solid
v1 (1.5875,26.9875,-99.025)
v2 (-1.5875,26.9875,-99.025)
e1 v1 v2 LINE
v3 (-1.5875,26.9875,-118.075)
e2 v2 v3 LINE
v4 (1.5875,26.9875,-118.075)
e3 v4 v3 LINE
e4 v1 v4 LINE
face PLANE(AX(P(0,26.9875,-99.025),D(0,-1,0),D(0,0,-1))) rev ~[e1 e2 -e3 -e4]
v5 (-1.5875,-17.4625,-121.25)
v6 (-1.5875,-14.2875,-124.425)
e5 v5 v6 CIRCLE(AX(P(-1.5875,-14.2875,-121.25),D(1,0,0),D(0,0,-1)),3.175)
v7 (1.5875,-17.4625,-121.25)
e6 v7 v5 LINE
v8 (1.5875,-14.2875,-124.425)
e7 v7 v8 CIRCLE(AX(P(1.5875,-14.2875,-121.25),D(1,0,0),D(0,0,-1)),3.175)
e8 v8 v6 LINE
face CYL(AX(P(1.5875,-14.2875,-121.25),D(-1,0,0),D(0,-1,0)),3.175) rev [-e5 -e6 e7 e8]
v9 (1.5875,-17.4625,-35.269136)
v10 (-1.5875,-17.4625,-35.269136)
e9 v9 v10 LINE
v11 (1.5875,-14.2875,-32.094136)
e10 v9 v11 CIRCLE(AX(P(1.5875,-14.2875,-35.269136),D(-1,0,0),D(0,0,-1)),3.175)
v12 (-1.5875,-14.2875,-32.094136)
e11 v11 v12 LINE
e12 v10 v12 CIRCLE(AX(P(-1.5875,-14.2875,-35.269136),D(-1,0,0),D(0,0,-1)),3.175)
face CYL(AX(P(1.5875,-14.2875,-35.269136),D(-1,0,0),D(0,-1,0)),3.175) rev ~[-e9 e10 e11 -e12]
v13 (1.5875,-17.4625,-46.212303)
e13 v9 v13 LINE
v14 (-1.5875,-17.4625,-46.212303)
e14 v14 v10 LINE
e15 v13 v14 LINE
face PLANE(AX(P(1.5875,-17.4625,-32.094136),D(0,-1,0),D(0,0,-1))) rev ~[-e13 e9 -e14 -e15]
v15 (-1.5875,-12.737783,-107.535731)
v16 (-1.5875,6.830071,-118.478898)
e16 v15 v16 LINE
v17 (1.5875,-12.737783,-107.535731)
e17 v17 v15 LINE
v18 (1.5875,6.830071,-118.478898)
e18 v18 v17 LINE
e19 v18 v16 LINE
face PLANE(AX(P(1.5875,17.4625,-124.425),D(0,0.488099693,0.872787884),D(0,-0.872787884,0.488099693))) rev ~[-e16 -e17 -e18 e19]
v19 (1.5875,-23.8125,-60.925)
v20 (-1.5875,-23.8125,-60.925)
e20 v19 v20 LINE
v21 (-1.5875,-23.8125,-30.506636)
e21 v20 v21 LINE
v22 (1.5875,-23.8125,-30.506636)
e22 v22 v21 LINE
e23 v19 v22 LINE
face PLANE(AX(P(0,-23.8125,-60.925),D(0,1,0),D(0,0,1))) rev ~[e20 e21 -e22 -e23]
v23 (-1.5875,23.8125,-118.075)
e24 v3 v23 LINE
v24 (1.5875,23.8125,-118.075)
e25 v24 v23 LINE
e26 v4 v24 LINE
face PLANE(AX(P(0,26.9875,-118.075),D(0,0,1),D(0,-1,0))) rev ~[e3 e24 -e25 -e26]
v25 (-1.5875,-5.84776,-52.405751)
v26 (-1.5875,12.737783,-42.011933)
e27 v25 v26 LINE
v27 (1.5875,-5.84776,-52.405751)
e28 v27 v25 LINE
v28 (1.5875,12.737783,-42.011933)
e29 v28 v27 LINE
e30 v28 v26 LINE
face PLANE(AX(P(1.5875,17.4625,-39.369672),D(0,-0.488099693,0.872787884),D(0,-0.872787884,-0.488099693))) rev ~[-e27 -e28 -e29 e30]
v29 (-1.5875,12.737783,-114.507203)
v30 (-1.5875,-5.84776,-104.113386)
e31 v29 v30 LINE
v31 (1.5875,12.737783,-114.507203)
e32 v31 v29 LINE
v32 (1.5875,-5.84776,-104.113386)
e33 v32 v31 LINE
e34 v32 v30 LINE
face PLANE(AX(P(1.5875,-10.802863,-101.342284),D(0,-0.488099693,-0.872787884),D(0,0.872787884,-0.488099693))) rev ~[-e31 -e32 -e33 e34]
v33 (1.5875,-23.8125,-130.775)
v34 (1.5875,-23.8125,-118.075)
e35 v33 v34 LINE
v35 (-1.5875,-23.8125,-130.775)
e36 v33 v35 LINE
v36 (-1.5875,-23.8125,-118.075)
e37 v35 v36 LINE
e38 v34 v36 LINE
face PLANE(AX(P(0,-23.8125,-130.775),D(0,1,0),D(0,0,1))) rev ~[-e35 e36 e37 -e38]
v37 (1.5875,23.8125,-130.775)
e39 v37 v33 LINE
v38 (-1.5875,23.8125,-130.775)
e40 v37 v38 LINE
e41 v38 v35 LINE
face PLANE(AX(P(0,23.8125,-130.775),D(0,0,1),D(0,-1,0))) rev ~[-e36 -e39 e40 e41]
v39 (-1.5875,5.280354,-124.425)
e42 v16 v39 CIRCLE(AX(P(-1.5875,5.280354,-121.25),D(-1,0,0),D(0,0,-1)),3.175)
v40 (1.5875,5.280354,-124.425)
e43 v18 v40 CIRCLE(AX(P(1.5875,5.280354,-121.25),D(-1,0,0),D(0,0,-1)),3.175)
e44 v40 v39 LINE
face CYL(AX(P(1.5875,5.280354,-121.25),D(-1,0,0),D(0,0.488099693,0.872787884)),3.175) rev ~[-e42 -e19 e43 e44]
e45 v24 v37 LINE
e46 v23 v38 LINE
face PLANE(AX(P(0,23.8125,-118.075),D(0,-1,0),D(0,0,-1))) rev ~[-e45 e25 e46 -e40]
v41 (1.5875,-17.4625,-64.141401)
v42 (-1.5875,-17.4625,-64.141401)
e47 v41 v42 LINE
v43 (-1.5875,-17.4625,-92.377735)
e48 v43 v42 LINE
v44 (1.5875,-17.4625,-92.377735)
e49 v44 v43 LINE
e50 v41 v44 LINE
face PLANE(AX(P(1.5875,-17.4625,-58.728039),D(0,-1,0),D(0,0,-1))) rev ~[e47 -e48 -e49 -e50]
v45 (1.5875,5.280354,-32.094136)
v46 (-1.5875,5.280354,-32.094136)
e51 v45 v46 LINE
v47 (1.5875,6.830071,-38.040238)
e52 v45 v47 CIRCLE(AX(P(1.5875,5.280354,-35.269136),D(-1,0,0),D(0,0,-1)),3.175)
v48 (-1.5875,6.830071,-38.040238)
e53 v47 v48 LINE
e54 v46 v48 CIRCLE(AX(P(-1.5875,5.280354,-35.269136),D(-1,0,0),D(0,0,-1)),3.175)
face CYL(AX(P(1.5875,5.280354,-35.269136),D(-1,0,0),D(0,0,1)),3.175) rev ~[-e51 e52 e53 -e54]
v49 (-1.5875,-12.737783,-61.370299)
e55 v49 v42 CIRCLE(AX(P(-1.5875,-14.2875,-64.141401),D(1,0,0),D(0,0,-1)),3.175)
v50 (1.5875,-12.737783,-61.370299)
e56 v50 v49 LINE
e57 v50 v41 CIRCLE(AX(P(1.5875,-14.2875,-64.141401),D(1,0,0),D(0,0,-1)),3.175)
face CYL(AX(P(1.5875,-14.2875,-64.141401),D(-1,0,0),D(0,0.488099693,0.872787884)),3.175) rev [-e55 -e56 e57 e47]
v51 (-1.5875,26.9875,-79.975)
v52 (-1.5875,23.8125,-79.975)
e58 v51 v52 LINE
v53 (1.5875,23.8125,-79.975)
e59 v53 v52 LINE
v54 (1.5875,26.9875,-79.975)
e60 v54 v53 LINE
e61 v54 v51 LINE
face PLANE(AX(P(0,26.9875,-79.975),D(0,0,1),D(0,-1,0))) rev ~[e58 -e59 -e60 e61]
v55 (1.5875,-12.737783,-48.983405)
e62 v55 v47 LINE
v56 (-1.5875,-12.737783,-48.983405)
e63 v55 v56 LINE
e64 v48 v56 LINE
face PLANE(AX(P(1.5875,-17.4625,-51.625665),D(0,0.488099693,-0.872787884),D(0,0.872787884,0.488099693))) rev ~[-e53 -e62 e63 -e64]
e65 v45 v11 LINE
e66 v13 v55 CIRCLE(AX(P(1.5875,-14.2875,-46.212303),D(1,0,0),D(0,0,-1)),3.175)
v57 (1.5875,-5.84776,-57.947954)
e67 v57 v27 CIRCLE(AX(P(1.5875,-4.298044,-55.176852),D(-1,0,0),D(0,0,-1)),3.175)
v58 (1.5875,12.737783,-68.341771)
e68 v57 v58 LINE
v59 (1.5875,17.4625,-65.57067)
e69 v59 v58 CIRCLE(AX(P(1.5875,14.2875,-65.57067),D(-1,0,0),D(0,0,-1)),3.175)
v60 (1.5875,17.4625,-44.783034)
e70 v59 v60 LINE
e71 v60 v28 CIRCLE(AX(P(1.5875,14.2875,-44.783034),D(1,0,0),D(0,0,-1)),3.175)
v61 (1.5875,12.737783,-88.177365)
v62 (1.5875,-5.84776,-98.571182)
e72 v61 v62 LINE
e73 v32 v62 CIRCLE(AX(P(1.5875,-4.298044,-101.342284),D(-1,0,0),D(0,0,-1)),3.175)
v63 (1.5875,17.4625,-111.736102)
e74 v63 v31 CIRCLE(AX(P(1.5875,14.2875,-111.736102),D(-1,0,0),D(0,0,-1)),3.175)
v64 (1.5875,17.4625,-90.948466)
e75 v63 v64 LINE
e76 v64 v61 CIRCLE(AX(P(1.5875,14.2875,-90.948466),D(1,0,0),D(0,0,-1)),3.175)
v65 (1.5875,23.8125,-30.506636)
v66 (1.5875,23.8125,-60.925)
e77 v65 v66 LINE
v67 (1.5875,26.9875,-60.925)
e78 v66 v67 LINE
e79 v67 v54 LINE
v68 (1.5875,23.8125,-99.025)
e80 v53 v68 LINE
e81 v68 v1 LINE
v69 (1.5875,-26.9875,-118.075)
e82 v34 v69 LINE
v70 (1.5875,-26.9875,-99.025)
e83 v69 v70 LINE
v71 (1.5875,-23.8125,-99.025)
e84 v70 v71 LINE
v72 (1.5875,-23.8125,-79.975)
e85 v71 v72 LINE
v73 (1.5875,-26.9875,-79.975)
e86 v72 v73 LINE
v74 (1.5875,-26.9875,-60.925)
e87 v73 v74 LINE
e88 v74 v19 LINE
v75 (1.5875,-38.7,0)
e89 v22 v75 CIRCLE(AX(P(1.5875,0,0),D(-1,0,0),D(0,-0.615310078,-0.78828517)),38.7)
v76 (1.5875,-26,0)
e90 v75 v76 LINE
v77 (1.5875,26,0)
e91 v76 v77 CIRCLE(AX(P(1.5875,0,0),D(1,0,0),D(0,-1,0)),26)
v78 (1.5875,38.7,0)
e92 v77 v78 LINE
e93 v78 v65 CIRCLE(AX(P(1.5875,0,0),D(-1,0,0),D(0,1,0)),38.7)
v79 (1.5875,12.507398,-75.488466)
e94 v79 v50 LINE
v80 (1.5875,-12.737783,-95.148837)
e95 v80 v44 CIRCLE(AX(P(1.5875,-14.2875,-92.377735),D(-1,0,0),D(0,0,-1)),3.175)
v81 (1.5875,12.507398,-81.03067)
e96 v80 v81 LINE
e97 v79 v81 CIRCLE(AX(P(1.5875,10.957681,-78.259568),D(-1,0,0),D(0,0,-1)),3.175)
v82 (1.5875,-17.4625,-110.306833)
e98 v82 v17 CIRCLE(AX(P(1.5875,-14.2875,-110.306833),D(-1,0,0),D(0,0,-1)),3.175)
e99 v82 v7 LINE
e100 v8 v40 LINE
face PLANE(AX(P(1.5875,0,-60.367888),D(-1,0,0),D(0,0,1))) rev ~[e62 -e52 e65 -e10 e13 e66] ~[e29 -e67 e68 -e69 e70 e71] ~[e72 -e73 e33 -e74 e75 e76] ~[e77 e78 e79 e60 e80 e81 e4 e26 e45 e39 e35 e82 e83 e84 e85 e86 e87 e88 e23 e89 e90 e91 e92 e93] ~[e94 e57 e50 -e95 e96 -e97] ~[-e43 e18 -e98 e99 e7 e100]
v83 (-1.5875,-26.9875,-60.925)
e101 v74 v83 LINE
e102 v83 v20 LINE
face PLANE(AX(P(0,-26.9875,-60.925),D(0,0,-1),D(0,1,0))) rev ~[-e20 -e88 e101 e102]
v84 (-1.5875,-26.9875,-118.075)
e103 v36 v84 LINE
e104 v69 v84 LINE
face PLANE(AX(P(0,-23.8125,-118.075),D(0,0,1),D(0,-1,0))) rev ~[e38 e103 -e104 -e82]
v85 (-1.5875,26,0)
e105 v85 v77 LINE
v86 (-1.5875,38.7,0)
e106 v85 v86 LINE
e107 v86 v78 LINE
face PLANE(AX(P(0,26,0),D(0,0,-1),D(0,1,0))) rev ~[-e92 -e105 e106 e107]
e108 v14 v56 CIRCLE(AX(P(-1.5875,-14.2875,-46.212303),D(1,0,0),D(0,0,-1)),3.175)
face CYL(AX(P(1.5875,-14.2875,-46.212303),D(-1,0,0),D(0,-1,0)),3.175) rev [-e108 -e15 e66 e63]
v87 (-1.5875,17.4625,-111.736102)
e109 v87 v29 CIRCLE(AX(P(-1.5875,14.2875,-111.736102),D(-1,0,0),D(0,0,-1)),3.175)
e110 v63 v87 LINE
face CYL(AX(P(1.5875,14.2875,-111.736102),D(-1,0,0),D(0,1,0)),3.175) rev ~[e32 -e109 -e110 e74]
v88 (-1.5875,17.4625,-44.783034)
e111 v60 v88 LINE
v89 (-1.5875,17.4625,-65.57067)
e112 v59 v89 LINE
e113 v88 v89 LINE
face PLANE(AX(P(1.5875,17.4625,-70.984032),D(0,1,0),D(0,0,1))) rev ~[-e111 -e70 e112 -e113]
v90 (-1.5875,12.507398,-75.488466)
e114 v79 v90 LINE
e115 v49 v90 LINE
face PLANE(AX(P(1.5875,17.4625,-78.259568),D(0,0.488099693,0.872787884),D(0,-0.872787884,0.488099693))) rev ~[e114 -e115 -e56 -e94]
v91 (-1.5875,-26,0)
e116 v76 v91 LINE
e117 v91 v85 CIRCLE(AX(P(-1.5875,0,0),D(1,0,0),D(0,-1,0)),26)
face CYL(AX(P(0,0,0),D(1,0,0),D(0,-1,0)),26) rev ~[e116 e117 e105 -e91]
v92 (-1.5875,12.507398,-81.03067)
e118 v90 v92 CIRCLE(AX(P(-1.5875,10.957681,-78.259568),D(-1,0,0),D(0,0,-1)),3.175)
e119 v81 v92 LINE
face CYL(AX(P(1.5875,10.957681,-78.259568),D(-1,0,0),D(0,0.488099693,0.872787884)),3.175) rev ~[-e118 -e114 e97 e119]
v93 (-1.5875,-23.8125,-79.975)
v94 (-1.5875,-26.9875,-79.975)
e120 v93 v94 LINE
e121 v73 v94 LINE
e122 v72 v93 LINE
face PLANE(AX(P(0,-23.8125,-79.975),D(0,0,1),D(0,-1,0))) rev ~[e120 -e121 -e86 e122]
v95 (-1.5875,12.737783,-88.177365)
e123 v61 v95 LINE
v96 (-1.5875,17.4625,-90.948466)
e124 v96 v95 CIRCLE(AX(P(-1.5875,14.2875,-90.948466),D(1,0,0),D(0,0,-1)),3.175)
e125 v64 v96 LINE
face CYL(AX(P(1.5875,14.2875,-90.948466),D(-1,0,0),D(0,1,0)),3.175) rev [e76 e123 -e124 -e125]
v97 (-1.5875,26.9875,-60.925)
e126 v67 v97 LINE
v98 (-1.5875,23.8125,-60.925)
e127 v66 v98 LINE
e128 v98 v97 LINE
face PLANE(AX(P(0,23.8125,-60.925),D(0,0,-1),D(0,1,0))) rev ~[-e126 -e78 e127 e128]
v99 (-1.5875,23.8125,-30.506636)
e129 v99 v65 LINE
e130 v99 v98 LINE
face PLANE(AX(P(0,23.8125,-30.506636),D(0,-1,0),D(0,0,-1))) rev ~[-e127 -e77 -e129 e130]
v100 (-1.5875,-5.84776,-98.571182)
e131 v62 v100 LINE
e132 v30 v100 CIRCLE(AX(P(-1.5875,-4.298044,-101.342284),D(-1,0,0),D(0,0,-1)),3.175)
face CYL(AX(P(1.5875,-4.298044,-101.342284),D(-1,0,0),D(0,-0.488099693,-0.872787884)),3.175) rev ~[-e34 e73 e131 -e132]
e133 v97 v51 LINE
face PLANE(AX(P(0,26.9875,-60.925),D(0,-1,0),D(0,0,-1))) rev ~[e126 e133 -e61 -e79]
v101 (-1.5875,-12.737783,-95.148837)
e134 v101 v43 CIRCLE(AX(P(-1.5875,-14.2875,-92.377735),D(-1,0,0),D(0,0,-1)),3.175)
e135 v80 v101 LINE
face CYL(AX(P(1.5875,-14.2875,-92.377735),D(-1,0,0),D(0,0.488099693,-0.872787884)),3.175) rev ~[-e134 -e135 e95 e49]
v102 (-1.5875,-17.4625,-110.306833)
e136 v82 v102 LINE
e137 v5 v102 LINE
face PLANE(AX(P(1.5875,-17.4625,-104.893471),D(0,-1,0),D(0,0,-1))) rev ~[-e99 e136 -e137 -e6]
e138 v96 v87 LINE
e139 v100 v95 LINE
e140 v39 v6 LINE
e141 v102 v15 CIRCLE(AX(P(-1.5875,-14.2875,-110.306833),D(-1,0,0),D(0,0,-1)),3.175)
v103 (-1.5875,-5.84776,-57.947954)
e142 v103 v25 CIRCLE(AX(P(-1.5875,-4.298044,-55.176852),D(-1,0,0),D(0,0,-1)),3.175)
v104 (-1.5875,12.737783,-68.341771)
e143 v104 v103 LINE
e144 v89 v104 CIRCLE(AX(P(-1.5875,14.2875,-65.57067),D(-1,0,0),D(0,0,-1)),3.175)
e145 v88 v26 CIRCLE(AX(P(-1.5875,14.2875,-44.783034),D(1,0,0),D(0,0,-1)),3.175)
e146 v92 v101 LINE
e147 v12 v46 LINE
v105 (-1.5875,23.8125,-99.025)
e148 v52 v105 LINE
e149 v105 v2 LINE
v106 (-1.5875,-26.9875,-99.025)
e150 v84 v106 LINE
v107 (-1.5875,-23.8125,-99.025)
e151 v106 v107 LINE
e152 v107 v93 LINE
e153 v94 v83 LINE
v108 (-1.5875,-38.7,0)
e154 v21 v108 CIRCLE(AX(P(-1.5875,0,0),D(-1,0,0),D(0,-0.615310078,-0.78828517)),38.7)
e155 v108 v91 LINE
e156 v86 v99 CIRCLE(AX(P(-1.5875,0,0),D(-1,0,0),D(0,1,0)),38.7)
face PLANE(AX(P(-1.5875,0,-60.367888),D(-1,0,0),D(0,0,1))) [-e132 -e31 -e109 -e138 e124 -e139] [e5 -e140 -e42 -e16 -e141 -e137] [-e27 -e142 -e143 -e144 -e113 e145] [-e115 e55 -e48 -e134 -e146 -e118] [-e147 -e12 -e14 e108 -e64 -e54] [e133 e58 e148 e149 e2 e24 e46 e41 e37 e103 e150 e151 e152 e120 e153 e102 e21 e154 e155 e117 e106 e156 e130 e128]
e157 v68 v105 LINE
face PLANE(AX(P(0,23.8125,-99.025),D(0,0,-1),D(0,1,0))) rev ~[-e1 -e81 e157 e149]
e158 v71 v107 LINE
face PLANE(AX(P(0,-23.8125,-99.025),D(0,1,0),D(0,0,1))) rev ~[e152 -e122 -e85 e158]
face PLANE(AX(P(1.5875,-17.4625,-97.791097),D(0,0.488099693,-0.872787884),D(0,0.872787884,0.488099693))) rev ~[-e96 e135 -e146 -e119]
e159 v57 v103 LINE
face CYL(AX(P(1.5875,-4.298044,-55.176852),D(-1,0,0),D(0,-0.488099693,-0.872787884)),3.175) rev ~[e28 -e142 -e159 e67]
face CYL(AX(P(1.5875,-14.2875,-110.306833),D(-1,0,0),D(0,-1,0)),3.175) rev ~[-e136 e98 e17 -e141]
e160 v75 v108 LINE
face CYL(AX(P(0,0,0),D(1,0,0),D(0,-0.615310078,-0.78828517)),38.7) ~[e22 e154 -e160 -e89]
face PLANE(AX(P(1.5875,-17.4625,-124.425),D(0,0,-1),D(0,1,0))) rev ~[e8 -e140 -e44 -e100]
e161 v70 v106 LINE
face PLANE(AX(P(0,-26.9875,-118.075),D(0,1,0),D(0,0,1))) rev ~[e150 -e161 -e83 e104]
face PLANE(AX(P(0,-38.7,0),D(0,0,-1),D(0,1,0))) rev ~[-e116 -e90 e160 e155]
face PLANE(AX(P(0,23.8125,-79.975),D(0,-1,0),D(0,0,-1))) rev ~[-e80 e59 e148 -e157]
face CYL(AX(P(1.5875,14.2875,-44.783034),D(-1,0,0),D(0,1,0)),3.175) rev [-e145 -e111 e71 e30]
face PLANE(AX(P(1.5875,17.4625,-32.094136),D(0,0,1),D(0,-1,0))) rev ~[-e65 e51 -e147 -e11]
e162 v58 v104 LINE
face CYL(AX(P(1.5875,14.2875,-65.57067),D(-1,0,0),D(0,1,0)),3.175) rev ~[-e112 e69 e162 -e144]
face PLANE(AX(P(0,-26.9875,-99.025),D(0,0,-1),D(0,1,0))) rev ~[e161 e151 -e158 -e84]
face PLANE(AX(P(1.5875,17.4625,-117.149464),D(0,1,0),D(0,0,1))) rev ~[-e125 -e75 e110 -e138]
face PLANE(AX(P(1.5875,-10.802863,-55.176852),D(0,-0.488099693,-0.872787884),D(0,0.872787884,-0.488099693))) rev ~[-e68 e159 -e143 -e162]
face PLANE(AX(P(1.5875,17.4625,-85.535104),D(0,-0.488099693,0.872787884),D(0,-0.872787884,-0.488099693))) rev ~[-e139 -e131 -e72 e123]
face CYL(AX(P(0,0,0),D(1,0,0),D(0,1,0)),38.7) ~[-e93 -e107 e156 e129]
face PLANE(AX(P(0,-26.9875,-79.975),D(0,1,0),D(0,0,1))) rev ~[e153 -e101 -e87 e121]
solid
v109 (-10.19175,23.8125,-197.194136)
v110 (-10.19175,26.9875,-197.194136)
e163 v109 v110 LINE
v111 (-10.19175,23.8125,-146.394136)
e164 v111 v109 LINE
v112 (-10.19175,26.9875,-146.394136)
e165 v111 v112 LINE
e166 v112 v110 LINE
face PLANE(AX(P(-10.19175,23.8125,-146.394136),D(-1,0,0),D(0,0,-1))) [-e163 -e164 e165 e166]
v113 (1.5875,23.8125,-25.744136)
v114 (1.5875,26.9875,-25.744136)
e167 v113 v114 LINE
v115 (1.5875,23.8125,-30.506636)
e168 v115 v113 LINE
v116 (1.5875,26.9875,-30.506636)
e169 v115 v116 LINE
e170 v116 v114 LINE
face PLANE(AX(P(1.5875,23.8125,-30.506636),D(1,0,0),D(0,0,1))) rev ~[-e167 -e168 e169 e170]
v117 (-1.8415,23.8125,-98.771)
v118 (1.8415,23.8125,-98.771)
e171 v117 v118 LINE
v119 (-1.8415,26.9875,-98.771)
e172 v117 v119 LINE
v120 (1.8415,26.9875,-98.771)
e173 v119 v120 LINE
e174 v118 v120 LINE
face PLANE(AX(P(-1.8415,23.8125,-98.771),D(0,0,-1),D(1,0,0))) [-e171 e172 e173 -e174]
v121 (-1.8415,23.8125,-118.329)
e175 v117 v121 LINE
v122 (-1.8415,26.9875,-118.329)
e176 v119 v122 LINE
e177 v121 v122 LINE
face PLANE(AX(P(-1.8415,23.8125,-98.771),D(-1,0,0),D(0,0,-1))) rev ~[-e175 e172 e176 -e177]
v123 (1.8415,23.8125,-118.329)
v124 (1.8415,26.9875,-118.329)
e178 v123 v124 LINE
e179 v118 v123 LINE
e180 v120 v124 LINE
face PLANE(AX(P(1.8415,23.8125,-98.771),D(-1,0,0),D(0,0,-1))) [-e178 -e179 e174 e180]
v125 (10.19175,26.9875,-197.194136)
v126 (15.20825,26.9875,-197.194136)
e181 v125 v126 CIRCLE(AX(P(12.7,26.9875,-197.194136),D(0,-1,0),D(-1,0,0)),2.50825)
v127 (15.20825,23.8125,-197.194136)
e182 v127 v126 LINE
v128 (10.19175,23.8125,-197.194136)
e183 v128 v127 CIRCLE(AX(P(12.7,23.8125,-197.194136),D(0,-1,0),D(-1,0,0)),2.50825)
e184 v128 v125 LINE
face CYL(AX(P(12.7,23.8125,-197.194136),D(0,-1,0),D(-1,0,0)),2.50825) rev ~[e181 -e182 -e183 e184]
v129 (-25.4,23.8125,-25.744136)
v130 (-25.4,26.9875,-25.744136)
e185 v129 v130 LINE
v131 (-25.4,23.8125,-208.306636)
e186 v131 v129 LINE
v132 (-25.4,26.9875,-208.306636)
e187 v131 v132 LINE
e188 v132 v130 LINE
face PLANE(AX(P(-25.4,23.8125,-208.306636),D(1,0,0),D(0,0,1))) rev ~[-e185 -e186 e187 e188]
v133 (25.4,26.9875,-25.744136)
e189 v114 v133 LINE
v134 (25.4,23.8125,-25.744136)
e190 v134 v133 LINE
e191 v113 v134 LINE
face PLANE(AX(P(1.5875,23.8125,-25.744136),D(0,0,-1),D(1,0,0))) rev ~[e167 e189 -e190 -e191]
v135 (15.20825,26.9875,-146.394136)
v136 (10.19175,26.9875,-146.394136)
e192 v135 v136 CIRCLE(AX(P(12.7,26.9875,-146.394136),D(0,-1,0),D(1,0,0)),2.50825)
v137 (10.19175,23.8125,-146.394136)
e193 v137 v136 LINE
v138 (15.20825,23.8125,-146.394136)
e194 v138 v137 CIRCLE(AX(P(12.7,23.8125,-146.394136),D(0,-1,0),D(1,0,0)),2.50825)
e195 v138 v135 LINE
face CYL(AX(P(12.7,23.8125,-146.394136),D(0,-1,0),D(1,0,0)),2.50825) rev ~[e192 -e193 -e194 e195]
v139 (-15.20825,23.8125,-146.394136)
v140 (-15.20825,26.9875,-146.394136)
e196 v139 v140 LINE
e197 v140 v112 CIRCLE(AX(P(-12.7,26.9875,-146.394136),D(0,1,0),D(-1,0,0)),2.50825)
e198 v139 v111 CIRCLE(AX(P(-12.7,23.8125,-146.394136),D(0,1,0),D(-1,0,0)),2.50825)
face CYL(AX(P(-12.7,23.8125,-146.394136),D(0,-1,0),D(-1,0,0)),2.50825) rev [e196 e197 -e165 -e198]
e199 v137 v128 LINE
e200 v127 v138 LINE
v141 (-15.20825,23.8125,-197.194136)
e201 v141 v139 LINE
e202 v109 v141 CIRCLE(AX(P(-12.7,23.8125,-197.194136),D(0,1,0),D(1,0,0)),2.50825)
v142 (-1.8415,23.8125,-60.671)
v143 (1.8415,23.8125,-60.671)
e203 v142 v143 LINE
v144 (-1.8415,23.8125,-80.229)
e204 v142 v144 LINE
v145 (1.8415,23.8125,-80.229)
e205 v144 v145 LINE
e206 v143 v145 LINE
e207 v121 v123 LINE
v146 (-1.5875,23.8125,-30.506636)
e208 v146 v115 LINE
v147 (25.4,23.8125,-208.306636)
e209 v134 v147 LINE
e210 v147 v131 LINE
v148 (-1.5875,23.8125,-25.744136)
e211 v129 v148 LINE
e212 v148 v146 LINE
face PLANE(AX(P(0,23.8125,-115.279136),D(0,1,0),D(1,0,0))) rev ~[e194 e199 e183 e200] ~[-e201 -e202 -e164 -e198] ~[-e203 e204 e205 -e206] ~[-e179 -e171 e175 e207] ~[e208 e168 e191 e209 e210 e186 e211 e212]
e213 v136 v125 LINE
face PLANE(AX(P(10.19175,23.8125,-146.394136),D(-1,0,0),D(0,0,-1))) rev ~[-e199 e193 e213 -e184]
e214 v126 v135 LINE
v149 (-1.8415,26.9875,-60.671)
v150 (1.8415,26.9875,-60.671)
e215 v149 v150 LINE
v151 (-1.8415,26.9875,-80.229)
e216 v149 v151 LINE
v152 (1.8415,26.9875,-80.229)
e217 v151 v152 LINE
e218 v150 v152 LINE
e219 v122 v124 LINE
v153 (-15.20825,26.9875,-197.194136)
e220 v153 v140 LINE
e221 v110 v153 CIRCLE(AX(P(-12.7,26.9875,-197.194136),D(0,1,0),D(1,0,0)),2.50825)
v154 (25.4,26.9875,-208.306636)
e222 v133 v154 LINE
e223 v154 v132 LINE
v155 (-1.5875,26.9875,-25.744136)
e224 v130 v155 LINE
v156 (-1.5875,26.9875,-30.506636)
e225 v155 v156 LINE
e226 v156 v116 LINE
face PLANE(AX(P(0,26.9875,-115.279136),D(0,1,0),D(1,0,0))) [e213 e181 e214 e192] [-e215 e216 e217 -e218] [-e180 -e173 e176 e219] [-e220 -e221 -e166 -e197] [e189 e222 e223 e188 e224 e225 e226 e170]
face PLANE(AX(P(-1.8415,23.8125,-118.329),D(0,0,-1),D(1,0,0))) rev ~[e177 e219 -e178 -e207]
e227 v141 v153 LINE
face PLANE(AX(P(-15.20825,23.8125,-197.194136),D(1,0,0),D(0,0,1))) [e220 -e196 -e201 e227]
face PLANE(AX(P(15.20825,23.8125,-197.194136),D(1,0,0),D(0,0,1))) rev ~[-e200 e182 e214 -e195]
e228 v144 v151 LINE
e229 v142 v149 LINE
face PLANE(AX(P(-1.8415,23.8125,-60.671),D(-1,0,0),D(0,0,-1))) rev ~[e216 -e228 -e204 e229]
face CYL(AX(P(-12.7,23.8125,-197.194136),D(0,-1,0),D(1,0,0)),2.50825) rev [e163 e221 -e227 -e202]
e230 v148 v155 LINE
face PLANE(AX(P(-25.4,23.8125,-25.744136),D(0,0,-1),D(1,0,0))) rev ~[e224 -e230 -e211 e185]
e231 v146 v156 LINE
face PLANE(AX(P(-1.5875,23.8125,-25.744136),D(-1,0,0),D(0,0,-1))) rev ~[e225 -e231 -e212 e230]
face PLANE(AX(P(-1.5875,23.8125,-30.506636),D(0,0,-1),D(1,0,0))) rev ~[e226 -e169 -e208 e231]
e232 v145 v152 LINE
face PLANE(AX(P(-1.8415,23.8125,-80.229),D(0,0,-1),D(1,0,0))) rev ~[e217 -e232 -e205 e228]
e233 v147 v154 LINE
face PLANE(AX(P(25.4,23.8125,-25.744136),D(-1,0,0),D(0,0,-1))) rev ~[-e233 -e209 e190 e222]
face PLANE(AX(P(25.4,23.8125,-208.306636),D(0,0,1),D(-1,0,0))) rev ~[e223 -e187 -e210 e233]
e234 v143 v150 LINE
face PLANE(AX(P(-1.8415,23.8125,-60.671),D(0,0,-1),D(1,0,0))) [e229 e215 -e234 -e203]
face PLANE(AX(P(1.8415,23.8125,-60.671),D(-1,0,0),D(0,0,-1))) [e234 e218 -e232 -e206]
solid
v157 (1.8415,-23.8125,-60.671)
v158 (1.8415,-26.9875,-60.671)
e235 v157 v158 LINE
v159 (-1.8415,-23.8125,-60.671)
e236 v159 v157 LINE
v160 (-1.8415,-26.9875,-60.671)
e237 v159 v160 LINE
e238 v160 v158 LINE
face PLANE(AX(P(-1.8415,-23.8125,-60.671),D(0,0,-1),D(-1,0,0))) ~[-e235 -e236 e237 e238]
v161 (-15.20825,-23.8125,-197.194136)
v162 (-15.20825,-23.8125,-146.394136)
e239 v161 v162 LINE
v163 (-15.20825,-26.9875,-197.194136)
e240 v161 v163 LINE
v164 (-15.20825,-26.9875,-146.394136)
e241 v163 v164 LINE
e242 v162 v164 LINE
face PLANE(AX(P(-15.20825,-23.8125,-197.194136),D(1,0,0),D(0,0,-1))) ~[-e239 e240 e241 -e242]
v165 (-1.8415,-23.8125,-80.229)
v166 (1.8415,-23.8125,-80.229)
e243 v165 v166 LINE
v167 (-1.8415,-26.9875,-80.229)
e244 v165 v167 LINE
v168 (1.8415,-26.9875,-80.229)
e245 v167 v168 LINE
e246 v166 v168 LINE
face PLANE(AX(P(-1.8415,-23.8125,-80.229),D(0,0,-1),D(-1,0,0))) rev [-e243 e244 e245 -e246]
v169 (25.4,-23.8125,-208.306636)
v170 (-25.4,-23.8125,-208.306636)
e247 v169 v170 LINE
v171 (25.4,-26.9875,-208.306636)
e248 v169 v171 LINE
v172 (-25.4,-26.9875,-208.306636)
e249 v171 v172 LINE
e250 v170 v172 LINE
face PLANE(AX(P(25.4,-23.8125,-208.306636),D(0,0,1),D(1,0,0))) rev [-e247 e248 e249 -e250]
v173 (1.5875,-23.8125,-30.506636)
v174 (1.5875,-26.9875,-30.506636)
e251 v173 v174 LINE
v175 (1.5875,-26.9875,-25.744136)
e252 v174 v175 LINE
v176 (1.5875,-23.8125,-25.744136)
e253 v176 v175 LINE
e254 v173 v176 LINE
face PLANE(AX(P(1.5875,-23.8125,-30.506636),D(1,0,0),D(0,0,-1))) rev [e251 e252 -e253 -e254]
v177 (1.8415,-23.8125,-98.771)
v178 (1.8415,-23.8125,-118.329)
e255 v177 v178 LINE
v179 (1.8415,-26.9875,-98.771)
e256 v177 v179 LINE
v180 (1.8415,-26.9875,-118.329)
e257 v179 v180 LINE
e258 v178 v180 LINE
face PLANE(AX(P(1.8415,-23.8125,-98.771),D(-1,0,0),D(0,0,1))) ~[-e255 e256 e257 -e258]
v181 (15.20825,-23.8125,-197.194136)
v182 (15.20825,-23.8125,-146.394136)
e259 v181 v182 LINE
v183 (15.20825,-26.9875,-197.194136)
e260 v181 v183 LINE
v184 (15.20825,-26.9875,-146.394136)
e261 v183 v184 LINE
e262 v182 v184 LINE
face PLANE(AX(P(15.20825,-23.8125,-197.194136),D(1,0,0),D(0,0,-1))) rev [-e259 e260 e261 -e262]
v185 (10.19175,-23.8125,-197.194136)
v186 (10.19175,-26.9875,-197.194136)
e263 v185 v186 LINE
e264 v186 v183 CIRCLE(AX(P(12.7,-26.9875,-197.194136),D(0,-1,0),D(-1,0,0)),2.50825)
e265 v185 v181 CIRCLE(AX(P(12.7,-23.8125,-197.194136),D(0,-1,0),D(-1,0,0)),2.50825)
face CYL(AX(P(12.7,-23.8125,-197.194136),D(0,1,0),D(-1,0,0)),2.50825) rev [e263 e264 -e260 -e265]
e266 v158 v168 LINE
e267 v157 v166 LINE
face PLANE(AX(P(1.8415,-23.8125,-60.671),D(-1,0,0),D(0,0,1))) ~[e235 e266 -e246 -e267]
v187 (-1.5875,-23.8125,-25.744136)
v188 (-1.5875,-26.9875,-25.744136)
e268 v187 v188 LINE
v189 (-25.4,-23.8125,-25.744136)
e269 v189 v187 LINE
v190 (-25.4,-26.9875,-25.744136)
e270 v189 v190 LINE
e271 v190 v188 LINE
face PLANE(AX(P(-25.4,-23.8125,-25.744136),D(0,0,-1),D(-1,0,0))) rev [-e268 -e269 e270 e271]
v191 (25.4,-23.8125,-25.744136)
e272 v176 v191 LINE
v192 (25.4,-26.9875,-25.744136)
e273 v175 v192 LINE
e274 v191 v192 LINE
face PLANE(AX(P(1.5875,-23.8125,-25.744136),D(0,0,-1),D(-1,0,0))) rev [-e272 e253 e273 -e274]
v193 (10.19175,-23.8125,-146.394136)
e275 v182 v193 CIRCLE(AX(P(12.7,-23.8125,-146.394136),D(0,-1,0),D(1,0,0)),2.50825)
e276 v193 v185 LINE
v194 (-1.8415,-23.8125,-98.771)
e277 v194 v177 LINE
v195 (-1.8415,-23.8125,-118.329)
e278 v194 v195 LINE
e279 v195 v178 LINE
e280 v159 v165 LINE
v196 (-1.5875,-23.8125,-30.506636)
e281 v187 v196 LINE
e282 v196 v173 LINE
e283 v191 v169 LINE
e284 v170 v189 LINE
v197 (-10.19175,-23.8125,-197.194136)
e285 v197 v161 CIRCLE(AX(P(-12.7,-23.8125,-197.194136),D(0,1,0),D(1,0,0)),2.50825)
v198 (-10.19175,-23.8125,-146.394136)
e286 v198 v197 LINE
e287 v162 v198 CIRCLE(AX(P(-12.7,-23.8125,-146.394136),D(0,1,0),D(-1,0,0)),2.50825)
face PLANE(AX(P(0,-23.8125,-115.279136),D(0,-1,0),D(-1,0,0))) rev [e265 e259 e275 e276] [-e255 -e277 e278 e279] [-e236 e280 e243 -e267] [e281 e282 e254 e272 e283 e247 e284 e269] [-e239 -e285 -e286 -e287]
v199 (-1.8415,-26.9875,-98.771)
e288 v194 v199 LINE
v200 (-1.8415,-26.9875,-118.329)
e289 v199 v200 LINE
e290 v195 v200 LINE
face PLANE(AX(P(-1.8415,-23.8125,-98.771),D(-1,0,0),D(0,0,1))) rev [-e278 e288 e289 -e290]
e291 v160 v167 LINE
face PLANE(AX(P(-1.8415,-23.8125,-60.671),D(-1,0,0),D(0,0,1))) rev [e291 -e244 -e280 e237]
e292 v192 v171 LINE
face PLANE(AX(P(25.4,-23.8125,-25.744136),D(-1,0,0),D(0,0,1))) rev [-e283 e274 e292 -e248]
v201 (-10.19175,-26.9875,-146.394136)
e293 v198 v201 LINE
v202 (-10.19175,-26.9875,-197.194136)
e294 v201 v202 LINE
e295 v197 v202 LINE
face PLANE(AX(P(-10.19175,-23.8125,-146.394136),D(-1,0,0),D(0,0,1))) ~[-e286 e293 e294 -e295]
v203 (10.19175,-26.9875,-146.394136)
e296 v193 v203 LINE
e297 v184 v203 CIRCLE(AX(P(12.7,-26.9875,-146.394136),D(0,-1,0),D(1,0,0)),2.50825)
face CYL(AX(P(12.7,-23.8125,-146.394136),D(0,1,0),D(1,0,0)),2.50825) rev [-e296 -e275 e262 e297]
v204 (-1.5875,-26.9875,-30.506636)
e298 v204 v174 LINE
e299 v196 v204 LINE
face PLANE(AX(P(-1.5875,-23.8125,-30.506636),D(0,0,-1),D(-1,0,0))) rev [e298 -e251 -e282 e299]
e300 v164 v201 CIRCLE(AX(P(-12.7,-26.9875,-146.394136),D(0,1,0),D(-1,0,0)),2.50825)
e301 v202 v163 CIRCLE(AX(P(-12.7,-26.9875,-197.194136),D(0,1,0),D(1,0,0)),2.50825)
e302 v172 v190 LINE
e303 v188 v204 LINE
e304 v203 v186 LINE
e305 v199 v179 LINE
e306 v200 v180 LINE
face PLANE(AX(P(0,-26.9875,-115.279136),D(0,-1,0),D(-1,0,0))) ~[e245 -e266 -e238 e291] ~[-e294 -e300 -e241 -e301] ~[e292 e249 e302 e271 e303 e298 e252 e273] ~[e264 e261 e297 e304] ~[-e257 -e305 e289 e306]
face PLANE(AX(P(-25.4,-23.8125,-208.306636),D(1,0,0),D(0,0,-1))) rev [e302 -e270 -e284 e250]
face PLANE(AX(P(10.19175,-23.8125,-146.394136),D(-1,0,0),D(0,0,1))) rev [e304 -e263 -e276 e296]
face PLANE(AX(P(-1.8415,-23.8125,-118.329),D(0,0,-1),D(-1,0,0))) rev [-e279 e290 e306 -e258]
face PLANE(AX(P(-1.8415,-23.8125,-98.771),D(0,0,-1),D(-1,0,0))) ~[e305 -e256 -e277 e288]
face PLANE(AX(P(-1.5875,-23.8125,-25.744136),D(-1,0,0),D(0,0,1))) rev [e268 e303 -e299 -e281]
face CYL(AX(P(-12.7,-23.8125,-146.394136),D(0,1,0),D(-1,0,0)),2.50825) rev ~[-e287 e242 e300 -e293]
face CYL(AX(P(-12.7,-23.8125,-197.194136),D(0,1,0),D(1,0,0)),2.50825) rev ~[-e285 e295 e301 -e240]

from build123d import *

# Parameters (mm, degrees)
BOSS_EXTRUDE1_DEPTH = 1.5875
SKETCH2_W           = 3.683
SKETCH2_H           = 19.558
BOSS_EXTRUDE2_DEPTH = 3.175
CUT_EXTRUDE1_DEPTH  = 27.9875
FILLET1_R           = 3.175


with BuildPart() as part:
    # Sketch1 → Boss-Extrude1 (new body, symmetric)
    with BuildSketch(Plane(origin=(0, 0, 0), x_dir=(0, 0, -1), z_dir=(1, 0, 0))):
        with BuildLine():
            Line((30.506636061, 23.8125), (60.925, 23.8125))
            Line((60.925, 23.8125), (60.925, 26.9875))
            Line((60.925, 26.9875), (79.975, 26.9875))
            Line((79.975, 26.9875), (79.975, 23.8125))
            Line((79.975, 23.8125), (99.025, 23.8125))
            Line((99.025, 23.8125), (99.025, 26.9875))
            Line((99.025, 26.9875), (118.075, 26.9875))
            Line((118.075, 26.9875), (118.075, 23.8125))
            Line((118.075, 23.8125), (130.775, 23.8125))
            Line((130.775, 23.8125), (130.775, -23.8125))
            Line((130.775, -23.8125), (118.075, -23.8125))
            Line((118.075, -23.8125), (118.075, -26.9875))
            Line((118.075, -26.9875), (99.025, -26.9875))
            Line((99.025, -26.9875), (99.025, -23.8125))
            Line((99.025, -23.8125), (79.975, -23.8125))
            Line((79.975, -23.8125), (79.975, -26.9875))
            Line((79.975, -26.9875), (60.925, -26.9875))
            Line((60.925, -26.9875), (60.925, -23.8125))
            Line((60.925, -23.8125), (30.506636061, -23.8125))
            ThreePointArc((30.506636061, -23.8125), (16.972717078, -34.779546791), (0, -38.7))
            Line((0, -38.7), (0, -26))
            ThreePointArc((0, -26), (26, 0), (0, 26))
            Line((0, 26), (0, 38.7))
            ThreePointArc((0, 38.7), (16.972717078, 34.779546791), (30.506636061, 23.8125))
        make_face()
    extrude(amount=BOSS_EXTRUDE1_DEPTH, both=True)

    # Sketch3 → Cut-Extrude1 (cut, through all)
    with BuildSketch(Plane(origin=(1.5875, 0, 0), x_dir=(0, 0, -1), z_dir=(1, 0, 0))):
        Polygon((32.094136061, -17.4625), (51.625664971, -17.4625), (32.094136061, 17.4625), align=None)
        Polygon((70.984031649, 17.4625), (39.369672442, 17.4625), (55.176852046, -10.802862644), align=None)
        Polygon((78.25956803, 17.4625), (58.72803912, -17.4625), (97.791096941, -17.4625), align=None)
        Polygon((117.149463618, 17.4625), (85.535104412, 17.4625), (101.342284015, -10.802862644), align=None)
        Polygon((104.89347109, -17.4625), (124.425, -17.4625), (124.425, 17.4625), align=None)
    extrude(amount=-CUT_EXTRUDE1_DEPTH, mode=Mode.SUBTRACT)

    # Fillet1
    fillet1_edges = [part.edges().sort_by_distance(p)[0] for p in [
        (0, -17.4625, -104.89347109),
        (0, 17.4625, -124.425),
        (0, -17.4625, -124.425),
        (0, -10.802862644, -101.342284015),
        (0, 17.4625, -85.535104412),
        (0, 17.4625, -117.149463618),
        (0, -17.4625, -32.094136061),
        (0, 17.4625, -32.094136061),
        (0, -17.4625, -51.625664971),
        (0, -17.4625, -58.72803912),
        (0, 17.4625, -78.25956803),
        (0, -17.4625, -97.791096941),
        (0, 17.4625, -39.369672442),
        (0, 17.4625, -70.984031649),
        (0, -10.802862644, -55.176852046),
    ]]
    fillet(fillet1_edges, radius=FILLET1_R)


with BuildPart() as body_2:
    # Sketch2 → Boss-Extrude2 (new body)
    with BuildSketch(Plane(origin=(0, 23.8125, 0), x_dir=(1, 0, 0), z_dir=(0, 1, 0))):
        Polygon((-1.5875, 30.506636061), (1.5875, 30.506636061), (1.5875, 25.744136061), (25.4, 25.744136061), (25.4, 208.306636061), (-25.4, 208.306636061), (-25.4, 25.744136061), (-1.5875, 25.744136061), align=None)
        with BuildLine():
            Line((10.19175, 146.394136061), (10.19175, 197.194136061))
            ThreePointArc((10.19175, 197.194136061), (12.7, 199.702386061), (15.20825, 197.194136061))
            Line((15.20825, 197.194136061), (15.20825, 146.394136061))
            ThreePointArc((15.20825, 146.394136061), (12.7, 143.885886061), (10.19175, 146.394136061))
        make_face(mode=Mode.SUBTRACT)
        with BuildLine():
            Line((-10.19175, 146.394136061), (-10.19175, 197.194136061))
            ThreePointArc((-10.19175, 197.194136061), (-12.7, 199.702386061), (-15.20825, 197.194136061))
            Line((-15.20825, 197.194136061), (-15.20825, 146.394136061))
            ThreePointArc((-15.20825, 146.394136061), (-12.7, 143.885886061), (-10.19175, 146.394136061))
        make_face(mode=Mode.SUBTRACT)
        with Locations((0, 108.55)):
            Rectangle(SKETCH2_W, SKETCH2_H, mode=Mode.SUBTRACT)
        with Locations((0, 70.45)):
            Rectangle(SKETCH2_W, SKETCH2_H, mode=Mode.SUBTRACT)
    extrude(amount=BOSS_EXTRUDE2_DEPTH)


with BuildPart() as body_3:
    # Mirror3: mirrored copy
    add(body_2.part.mirror(Plane.ZX))


solid = Compound([part.part, body_2.part, body_3.part])
